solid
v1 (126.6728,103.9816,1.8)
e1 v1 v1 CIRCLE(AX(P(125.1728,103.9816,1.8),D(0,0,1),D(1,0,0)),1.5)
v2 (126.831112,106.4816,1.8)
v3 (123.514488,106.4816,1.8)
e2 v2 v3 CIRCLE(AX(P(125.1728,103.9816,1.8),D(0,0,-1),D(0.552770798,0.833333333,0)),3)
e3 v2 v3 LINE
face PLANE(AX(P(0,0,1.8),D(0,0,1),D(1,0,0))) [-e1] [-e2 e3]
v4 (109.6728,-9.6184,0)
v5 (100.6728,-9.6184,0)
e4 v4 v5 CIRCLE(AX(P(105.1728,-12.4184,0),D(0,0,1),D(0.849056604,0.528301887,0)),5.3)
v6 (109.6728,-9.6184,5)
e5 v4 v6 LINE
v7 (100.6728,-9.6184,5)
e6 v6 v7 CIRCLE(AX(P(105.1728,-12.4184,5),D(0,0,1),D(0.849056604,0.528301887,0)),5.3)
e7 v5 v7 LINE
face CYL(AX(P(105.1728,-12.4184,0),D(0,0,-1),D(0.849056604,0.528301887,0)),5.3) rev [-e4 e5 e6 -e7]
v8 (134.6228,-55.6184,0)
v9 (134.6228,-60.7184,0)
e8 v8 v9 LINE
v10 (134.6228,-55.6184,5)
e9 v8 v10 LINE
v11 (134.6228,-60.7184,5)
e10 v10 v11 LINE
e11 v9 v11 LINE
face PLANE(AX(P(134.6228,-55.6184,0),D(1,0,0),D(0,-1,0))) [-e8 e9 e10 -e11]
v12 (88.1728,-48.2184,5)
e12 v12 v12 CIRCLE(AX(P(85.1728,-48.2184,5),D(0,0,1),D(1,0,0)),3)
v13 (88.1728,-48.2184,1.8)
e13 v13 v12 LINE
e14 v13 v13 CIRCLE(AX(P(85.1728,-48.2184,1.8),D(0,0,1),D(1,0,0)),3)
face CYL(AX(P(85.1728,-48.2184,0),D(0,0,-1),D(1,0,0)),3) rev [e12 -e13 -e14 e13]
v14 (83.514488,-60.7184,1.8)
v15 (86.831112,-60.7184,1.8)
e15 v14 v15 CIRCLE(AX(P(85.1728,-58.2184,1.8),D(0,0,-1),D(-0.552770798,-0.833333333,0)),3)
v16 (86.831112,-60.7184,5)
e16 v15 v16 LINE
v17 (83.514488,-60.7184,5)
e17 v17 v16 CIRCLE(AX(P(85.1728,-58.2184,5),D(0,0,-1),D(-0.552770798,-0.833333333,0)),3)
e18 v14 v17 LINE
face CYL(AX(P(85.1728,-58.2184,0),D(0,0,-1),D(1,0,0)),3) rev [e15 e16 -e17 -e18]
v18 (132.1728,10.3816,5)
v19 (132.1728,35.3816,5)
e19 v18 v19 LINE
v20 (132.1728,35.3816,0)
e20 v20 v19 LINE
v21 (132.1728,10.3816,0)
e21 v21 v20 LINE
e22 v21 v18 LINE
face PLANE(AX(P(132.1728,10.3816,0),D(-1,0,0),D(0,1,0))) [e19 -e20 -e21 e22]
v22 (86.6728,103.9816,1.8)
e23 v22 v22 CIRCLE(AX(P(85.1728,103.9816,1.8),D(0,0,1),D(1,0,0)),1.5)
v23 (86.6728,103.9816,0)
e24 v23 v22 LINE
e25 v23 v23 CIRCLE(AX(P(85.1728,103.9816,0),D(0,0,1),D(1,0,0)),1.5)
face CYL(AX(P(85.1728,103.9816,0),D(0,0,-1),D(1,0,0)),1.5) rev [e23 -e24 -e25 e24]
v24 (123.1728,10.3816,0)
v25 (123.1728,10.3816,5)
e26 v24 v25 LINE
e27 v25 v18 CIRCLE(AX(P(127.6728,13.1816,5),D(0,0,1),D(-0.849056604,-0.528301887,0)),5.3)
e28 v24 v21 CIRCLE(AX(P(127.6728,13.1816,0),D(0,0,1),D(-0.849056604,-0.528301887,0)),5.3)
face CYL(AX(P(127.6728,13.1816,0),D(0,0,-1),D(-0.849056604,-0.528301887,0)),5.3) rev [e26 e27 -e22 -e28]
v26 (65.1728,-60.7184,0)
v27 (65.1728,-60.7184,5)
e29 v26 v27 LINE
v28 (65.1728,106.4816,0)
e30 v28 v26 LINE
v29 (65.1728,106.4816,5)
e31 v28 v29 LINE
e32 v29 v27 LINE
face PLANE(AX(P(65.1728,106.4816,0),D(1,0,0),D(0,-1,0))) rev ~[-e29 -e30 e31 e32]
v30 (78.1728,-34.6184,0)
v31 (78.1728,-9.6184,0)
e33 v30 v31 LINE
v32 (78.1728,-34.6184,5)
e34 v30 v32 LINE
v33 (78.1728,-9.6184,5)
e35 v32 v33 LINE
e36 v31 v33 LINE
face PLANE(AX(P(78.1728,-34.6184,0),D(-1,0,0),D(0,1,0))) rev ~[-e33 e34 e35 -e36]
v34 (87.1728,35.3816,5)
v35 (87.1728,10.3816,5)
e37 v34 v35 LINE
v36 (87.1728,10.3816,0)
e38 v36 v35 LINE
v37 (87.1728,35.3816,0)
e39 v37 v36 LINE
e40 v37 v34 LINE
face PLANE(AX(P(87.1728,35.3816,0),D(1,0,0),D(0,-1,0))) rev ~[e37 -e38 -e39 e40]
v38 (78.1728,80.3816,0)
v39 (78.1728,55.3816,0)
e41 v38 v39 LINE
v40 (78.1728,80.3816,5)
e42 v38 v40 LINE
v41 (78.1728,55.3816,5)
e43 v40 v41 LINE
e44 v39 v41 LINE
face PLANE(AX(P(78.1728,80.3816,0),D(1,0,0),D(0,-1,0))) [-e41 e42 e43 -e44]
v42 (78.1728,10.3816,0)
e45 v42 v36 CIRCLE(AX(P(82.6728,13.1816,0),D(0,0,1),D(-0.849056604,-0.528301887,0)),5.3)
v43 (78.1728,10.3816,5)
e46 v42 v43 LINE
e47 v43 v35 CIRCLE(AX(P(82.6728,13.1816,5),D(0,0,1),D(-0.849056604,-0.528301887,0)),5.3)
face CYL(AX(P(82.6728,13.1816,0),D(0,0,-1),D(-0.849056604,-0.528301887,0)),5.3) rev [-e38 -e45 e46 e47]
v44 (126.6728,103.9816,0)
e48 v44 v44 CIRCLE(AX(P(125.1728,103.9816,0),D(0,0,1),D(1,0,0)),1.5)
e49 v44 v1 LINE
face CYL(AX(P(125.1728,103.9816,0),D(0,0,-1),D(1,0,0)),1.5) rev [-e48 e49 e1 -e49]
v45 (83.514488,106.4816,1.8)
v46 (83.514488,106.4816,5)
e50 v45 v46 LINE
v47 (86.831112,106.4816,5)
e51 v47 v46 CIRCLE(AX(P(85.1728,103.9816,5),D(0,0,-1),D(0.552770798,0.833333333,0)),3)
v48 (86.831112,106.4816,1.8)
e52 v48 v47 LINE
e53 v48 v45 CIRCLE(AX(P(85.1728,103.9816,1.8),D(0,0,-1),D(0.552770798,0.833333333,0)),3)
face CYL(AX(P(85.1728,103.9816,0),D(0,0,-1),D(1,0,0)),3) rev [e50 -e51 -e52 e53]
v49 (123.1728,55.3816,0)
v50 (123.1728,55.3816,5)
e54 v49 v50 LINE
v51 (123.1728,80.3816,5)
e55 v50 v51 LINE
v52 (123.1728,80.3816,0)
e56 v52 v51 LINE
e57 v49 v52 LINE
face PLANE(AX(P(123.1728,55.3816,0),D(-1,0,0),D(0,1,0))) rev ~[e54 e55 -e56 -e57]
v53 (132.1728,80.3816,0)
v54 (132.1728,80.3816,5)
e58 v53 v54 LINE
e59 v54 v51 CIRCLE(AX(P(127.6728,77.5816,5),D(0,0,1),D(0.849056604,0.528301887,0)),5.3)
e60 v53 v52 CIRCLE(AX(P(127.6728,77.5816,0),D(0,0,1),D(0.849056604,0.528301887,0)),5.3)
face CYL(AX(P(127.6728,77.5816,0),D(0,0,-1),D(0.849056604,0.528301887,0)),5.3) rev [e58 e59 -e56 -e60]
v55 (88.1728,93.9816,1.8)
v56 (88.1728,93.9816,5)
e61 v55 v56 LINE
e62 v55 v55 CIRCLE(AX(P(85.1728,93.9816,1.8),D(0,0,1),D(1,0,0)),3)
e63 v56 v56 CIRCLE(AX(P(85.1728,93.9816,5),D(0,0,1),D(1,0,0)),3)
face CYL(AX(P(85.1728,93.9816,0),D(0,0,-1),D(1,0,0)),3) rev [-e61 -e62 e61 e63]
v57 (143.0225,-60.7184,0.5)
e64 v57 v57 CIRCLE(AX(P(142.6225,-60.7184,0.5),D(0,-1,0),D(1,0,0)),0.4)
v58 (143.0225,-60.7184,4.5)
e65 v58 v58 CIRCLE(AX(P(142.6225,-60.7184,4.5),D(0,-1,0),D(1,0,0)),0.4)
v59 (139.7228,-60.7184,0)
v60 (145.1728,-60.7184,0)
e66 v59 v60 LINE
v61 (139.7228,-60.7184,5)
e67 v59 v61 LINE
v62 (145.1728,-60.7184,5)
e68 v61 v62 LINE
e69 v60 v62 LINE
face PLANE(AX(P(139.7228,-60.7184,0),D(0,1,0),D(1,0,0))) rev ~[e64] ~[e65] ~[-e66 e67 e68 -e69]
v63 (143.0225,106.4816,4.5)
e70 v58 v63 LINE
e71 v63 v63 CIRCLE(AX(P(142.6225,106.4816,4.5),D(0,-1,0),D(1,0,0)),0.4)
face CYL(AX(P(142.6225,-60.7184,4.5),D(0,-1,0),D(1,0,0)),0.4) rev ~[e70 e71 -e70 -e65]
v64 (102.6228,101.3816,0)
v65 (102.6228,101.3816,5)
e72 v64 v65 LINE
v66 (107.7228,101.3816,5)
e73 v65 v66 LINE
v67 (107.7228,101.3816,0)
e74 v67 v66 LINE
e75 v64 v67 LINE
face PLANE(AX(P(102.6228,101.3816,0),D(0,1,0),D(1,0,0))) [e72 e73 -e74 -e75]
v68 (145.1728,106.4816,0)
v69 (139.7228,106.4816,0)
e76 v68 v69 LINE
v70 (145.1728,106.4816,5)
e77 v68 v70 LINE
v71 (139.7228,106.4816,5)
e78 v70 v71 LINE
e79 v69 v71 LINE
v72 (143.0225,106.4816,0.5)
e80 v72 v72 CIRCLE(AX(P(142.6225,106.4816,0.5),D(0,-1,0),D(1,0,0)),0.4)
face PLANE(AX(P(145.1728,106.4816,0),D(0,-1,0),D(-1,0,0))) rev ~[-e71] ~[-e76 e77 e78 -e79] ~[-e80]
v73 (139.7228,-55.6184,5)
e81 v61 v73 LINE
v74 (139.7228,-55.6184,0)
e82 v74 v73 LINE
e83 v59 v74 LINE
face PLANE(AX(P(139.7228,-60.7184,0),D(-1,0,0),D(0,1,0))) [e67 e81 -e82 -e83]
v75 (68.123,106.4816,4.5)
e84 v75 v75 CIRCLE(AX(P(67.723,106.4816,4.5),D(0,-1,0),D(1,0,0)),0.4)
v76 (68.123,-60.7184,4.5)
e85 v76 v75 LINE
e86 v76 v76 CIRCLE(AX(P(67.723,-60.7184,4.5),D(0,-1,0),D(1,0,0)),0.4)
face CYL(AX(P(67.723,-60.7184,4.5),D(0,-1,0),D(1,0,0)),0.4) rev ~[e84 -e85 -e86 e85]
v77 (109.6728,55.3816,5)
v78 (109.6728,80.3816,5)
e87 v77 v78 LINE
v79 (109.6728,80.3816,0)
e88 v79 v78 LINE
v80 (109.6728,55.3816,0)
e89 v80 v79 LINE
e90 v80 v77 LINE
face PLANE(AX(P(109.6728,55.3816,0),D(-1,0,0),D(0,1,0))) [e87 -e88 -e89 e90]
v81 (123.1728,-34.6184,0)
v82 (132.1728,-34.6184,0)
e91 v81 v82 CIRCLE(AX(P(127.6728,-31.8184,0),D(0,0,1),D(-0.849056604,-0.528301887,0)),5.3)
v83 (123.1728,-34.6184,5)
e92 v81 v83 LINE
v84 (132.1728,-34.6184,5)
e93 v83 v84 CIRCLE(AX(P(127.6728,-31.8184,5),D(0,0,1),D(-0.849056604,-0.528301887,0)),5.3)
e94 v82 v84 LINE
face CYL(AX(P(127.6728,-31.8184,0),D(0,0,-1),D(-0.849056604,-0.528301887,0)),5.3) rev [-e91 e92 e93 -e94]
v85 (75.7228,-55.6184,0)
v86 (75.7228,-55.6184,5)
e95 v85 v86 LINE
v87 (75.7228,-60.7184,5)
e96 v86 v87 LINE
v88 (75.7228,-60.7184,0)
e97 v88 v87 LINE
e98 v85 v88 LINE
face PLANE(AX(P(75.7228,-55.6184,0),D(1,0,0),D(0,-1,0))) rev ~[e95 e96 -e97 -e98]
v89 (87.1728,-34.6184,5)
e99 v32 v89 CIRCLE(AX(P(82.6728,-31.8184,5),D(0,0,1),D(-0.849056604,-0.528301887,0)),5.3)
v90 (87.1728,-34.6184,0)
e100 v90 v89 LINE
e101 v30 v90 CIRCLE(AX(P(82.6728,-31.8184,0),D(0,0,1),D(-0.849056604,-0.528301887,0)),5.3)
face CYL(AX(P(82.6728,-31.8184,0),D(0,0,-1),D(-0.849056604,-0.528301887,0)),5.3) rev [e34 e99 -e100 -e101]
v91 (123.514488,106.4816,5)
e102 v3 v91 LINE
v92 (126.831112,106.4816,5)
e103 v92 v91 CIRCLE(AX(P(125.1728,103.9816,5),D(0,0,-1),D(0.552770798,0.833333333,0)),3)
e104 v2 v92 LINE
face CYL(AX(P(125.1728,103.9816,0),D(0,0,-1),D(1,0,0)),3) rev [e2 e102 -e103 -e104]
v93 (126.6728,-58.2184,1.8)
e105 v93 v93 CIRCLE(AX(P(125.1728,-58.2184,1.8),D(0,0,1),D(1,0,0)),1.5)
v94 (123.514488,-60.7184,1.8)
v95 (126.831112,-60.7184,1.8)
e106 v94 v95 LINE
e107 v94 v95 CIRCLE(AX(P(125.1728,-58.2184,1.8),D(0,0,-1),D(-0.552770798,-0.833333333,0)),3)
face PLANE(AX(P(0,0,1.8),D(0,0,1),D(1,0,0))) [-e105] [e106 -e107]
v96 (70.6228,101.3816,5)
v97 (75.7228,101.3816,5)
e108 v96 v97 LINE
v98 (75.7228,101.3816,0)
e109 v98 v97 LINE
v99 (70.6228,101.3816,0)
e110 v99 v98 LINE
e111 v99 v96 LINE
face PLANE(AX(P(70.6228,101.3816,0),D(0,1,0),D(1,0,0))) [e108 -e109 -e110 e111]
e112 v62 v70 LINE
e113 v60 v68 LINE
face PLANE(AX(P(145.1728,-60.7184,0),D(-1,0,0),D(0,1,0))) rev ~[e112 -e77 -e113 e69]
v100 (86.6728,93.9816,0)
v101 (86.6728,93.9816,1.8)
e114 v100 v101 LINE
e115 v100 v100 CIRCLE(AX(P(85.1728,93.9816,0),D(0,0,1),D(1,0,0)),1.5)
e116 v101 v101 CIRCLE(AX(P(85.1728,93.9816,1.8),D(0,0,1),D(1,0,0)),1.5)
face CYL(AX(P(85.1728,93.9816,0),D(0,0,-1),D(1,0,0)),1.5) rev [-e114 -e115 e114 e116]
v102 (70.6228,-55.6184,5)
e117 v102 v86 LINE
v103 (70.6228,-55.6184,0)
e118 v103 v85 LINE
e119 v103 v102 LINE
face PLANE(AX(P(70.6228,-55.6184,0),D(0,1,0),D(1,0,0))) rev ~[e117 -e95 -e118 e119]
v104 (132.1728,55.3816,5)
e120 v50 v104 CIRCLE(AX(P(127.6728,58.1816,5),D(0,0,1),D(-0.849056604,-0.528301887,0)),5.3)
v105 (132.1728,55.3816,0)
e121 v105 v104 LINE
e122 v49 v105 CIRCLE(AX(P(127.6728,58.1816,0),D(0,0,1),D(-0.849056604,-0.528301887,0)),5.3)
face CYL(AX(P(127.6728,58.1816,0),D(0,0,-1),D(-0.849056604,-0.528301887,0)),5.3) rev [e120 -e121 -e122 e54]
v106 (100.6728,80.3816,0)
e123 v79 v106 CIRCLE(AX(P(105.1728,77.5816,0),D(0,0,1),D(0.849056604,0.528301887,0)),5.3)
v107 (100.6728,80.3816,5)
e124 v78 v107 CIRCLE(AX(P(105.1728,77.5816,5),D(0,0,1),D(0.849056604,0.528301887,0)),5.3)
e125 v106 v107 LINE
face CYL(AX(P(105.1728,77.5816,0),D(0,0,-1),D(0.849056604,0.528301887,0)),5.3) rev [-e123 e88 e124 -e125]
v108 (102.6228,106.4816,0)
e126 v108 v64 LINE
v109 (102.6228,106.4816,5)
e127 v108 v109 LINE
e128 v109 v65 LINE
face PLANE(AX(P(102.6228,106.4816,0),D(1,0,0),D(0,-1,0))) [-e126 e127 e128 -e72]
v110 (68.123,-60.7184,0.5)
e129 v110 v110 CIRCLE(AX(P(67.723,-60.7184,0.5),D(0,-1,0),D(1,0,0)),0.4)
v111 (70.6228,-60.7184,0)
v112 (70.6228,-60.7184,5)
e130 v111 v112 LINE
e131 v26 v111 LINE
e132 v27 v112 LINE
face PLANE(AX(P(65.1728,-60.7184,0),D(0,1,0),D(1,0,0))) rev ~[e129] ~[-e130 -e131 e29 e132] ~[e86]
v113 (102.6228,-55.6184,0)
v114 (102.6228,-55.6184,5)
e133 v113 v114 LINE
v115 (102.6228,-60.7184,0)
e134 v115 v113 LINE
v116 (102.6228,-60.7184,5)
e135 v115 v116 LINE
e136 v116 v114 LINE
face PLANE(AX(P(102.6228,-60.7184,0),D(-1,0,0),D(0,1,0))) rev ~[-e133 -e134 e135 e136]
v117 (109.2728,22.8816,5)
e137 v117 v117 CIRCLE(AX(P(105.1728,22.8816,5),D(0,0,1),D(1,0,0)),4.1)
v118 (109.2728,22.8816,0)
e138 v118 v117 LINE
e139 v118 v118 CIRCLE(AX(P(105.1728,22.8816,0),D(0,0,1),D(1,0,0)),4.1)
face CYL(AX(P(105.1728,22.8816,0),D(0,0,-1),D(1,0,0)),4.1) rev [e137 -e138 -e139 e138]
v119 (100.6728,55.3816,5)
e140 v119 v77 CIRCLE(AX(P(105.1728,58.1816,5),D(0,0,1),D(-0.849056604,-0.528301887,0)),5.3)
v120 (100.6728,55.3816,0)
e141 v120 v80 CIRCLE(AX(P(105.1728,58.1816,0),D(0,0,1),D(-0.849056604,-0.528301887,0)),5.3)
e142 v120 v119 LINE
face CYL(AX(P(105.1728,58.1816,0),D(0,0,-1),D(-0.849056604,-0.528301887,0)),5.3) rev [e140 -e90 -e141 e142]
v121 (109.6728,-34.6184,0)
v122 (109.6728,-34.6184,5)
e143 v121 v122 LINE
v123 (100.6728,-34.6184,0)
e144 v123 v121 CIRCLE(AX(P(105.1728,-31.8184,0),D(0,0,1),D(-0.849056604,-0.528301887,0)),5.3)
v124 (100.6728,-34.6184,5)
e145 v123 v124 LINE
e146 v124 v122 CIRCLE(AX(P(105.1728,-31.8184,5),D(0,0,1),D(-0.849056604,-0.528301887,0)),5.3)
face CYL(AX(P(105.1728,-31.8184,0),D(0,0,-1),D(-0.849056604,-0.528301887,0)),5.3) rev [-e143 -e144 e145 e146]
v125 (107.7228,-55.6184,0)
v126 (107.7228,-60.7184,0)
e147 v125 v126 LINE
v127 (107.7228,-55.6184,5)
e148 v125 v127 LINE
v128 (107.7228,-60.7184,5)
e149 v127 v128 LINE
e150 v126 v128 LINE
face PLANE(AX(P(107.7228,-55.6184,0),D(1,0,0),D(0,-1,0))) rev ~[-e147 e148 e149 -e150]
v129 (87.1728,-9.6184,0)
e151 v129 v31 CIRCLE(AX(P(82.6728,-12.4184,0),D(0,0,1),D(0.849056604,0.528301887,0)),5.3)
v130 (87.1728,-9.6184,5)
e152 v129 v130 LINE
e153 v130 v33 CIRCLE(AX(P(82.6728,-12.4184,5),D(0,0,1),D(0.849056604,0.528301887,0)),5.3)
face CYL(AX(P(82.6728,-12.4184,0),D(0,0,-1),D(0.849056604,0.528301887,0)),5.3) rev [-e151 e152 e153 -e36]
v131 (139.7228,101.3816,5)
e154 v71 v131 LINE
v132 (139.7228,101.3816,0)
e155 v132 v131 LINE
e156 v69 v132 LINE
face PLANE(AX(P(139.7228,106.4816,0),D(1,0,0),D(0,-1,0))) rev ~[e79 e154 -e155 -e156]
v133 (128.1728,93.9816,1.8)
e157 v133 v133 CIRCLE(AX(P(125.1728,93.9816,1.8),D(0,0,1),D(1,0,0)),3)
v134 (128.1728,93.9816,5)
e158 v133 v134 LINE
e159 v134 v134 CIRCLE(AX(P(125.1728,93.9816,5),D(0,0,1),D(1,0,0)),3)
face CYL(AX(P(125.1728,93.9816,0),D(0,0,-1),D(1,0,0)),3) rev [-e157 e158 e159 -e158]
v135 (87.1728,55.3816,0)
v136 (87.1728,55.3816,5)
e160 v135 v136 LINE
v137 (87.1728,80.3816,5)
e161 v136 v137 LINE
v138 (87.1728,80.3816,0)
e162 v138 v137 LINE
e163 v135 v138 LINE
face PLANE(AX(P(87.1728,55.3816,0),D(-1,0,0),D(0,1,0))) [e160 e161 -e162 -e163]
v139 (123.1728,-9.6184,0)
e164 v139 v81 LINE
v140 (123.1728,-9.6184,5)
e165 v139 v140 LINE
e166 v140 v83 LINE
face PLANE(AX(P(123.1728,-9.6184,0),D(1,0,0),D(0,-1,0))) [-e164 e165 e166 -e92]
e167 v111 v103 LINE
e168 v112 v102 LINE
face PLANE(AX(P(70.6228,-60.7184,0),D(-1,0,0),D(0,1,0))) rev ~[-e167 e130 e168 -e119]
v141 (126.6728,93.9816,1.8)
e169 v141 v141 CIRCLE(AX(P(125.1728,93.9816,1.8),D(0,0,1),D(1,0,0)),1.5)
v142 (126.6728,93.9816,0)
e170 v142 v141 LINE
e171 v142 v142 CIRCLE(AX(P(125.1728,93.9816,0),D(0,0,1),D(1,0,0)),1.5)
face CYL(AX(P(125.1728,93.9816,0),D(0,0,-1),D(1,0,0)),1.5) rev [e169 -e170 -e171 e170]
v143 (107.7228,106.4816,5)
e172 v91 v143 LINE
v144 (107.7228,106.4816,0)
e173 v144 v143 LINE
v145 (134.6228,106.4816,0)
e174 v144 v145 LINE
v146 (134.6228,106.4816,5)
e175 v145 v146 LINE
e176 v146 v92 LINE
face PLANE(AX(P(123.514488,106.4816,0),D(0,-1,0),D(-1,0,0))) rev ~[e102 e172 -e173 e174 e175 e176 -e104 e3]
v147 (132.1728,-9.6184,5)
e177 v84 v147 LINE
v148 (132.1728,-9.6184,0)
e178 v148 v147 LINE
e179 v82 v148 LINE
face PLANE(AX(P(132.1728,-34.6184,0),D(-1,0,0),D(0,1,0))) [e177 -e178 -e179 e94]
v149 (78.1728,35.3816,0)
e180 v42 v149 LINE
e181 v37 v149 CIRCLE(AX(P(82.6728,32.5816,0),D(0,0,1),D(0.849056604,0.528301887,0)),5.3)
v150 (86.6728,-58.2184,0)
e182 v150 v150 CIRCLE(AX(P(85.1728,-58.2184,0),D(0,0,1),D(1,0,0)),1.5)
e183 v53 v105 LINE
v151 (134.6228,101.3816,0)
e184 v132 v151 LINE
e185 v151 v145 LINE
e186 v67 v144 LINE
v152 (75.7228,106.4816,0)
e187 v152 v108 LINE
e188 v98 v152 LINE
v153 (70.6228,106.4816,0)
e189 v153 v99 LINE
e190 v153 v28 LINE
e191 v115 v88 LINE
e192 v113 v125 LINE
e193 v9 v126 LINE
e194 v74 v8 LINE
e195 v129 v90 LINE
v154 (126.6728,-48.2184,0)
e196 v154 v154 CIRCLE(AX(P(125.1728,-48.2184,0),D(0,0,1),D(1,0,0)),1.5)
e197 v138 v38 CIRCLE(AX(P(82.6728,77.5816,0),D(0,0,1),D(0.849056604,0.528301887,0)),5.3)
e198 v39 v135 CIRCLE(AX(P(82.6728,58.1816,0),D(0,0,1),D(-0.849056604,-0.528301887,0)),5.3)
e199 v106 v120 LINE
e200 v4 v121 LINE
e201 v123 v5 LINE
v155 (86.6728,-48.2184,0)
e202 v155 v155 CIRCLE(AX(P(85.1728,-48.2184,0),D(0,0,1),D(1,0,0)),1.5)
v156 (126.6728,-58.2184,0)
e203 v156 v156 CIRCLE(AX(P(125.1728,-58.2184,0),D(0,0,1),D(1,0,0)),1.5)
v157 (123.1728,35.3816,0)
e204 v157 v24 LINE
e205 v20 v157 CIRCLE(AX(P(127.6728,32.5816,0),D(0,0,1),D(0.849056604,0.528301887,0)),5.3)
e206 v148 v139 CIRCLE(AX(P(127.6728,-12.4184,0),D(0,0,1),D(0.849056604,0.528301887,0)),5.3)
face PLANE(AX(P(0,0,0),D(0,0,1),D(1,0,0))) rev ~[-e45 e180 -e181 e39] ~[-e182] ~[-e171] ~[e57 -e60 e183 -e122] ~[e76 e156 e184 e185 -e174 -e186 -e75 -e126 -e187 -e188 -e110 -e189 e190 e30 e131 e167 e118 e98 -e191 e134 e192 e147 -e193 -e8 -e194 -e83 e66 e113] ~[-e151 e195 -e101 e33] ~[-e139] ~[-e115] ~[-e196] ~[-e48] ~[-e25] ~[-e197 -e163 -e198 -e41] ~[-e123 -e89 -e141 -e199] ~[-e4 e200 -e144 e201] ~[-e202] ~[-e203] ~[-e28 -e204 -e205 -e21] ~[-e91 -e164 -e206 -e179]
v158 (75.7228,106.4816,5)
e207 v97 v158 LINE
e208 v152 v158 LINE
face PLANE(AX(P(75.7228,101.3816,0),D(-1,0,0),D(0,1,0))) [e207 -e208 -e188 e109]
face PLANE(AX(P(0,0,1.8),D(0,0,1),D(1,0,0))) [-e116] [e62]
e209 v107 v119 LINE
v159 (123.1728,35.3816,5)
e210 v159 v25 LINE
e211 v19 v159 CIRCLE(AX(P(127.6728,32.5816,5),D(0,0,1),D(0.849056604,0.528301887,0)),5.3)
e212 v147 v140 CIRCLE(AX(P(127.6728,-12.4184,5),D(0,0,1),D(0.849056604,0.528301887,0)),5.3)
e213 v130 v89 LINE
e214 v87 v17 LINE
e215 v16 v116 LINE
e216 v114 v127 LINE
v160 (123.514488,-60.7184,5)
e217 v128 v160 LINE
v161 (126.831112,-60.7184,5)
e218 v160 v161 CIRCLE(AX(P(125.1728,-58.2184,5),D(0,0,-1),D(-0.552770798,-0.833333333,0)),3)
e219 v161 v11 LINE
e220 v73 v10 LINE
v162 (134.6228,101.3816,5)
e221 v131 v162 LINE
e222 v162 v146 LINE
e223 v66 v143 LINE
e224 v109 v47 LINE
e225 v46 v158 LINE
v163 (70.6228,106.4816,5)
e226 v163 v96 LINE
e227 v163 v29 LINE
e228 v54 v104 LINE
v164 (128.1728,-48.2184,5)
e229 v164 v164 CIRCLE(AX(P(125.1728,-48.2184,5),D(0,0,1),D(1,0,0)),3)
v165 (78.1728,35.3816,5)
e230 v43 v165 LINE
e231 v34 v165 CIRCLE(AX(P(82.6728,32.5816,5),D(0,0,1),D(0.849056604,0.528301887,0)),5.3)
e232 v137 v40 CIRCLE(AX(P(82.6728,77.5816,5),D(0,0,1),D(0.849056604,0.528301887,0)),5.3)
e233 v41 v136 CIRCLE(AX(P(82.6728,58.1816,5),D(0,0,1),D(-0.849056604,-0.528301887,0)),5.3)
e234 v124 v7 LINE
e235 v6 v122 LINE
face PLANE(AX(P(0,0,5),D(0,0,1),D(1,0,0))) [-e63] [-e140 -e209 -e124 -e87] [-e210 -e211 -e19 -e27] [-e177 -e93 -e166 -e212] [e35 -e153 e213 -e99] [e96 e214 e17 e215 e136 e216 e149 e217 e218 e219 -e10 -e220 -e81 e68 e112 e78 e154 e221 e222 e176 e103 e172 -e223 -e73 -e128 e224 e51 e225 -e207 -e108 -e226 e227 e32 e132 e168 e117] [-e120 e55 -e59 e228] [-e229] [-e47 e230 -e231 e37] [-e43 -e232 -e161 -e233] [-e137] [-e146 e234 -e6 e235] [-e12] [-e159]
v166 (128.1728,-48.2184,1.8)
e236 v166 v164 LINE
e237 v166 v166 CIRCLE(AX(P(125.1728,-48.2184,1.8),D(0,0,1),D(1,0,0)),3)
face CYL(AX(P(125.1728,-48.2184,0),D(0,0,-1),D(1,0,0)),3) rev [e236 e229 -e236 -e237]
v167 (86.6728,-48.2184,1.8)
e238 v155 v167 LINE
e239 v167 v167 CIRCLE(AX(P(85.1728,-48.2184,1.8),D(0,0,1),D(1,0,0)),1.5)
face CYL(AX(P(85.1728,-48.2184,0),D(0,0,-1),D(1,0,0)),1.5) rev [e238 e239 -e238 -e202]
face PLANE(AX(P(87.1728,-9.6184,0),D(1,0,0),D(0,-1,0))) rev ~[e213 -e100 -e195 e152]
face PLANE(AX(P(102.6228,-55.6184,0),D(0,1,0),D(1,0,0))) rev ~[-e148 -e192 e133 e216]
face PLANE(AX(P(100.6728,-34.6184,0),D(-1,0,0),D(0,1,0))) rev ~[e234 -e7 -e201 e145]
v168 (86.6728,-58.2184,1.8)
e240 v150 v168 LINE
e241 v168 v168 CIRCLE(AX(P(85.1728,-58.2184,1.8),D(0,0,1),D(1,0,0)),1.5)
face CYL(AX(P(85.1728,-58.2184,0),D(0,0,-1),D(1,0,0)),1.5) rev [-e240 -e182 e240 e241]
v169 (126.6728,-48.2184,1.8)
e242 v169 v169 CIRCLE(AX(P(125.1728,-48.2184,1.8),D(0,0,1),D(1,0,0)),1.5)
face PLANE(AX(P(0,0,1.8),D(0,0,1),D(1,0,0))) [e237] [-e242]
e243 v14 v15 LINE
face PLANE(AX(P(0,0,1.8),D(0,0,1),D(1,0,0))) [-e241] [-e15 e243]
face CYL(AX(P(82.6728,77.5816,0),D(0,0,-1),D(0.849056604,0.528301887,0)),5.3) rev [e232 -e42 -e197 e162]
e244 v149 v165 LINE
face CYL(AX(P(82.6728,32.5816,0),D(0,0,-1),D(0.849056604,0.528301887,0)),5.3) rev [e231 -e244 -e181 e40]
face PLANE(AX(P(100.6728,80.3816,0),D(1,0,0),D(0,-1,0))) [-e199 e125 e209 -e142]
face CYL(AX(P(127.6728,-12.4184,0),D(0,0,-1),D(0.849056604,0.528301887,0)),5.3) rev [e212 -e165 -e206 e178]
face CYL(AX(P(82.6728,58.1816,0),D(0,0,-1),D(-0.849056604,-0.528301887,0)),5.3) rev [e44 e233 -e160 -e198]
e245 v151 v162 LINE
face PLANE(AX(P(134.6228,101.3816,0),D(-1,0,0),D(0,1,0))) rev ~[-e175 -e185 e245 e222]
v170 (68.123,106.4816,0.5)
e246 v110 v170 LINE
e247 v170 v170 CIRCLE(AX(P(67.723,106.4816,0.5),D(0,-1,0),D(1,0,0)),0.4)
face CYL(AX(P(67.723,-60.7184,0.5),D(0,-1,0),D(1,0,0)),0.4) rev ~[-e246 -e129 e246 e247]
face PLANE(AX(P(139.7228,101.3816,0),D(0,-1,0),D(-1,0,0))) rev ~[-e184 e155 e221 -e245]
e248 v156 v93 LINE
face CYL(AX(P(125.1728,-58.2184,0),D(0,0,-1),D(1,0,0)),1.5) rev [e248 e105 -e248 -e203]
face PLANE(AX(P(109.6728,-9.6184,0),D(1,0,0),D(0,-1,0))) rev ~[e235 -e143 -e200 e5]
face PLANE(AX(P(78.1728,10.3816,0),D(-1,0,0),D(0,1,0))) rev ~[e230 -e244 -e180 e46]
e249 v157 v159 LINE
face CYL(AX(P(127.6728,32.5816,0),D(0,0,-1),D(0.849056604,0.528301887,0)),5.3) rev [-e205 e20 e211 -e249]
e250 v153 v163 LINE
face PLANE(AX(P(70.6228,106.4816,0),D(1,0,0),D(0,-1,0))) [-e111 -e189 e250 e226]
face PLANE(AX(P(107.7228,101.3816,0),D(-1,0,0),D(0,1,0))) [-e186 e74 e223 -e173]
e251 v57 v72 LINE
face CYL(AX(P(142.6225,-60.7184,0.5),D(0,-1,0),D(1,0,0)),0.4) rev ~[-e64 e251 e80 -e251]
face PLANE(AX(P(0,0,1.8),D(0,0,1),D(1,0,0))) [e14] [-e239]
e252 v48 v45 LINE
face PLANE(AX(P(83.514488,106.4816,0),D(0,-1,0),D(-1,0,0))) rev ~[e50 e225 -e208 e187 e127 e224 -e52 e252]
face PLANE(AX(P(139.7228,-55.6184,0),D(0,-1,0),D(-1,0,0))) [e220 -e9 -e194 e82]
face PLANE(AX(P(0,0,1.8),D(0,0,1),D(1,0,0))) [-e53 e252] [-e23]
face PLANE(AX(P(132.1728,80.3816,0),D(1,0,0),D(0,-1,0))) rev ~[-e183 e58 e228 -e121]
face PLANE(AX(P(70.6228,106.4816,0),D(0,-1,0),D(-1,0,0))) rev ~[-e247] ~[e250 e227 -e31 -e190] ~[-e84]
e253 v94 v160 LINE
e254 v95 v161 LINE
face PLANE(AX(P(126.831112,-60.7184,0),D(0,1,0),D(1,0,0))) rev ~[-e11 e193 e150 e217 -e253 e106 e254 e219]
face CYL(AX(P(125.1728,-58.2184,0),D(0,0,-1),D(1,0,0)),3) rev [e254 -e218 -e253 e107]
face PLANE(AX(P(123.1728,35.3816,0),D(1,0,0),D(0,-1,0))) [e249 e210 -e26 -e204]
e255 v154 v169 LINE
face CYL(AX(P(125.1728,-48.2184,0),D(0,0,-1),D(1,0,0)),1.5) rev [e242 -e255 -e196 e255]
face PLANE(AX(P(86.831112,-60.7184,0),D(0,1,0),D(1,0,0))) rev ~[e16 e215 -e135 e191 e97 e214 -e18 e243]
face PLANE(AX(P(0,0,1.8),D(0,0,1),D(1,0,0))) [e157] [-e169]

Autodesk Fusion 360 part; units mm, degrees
sketch "Schizzo5" plane through (0, 0, 0) normal (0, 0, 1) x (1, 0, 0)
  line L0 (65.1728, 106.4816) -> (65.1728, -60.7184)
  circle A0 centre (85.1728, -58.2184) radius 1.5
  circle A1 centre (125.1728, 103.9816) radius 3
  line L1 (65.1728, 22.8816) -> (145.1728, 22.8816) construction
  circle A2 centre (85.1728, 103.9816) radius 3
  circle A3 centre (85.1728, 103.9816) radius 1.5
  line L2 (145.1728, 106.4816) -> (65.1728, 106.4816)
  circle A4 centre (125.1728, 103.9816) radius 1.5
  line L3 (105.1728, 25.3816) -> (105.1728, 1.3102) construction
  circle A5 centre (105.1728, 22.8816) radius 4.1
  line L4 (145.1728, -60.7184) -> (145.1728, 106.4816)
  line L5 (85.1728, 106.4816) -> (85.1728, -60.7184) construction
  circle A6 centre (85.1728, -58.2184) radius 3
  circle A7 centre (125.1728, -58.2184) radius 1.5
  line L6 (65.1728, -60.7184) -> (145.1728, -60.7184)
  circle A8 centre (125.1728, -58.2184) radius 3
  line L7 (65.1728, -58.2184) -> (145.1728, -58.2184) construction
  line L8 (105.1728, 106.4816) -> (105.1728, -60.7184) construction
  line L9 (105.1728, 25.3816) -> (105.1728, 56.9762) construction
  line L10 (105.1728, 25.3816) -> (105.1728, 56.9762) construction
  line L11 (105.1728, 25.3816) -> (105.1728, 1.3102) construction
  line L12 (65.1728, -48.2184) -> (145.1728, -48.2184) construction
  circle A9 centre (85.1728, -48.2184) radius 1.5
  circle A10 centre (85.1728, -48.2184) radius 3
  circle A11 centre (125.1728, -48.2184) radius 3
  circle A12 centre (125.1728, -48.2184) radius 1.5
  circle A13 centre (85.1728, 93.9816) radius 3
  circle A14 centre (85.1728, 93.9816) radius 1.5
  circle A15 centre (125.1728, 93.9816) radius 3
  circle A16 centre (125.1728, 93.9816) radius 1.5
  line L13 (107.7228, -60.7184) -> (102.6228, -60.7184)
  line L14 (102.6228, -60.7184) -> (102.6228, -55.6184)
  line L15 (102.6228, -55.6184) -> (107.7228, -55.6184)
  line L16 (107.7228, -55.6184) -> (107.7228, -60.7184)
  line L17 (107.7228, -60.7184) -> (102.6228, -55.6184) construction
  line L18 (102.6228, -60.7184) -> (107.7228, -55.6184) construction
  line L19 (102.6228, 101.3816) -> (107.7228, 101.3816)
  line L20 (102.6228, 106.4816) -> (102.6228, 101.3816)
  line L21 (107.7228, 101.3816) -> (107.7228, 106.4816)
  line L22 (70.6228, -55.6184) -> (75.7228, -55.6184)
  line L23 (75.7228, -55.6184) -> (75.7228, -60.7184)
  line L24 (75.7228, -60.7184) -> (70.6228, -60.7184)
  line L25 (70.6228, -60.7184) -> (70.6228, -55.6184)
  line L26 (134.6228, -55.6184) -> (134.6228, -60.7184)
  line L27 (139.7228, -55.6184) -> (134.6228, -55.6184)
  line L28 (139.7228, -60.7184) -> (139.7228, -55.6184)
  line L29 (134.6228, -60.7184) -> (139.7228, -60.7184)
  line L30 (70.6228, -60.7184) -> (75.7228, -55.6184) construction
  line L31 (70.6228, -55.6184) -> (75.7228, -60.7184) construction
  line L32 (70.6228, 101.3816) -> (75.7228, 101.3816)
  line L33 (75.7228, 101.3816) -> (75.7228, 106.4816)
  line L34 (70.6228, 106.4816) -> (70.6228, 101.3816)
  line L35 (75.7228, 106.4816) -> (70.6228, 106.4816)
  line L36 (139.7228, 101.3816) -> (134.6228, 101.3816)
  line L37 (134.6228, 101.3816) -> (134.6228, 106.4816)
  line L38 (139.7228, 106.4816) -> (139.7228, 101.3816)
  line L39 (134.6228, 106.4816) -> (139.7228, 106.4816)
  line L40 (78.1728, 35.3816) -> (87.1728, 35.3816)
  line L41 (87.1728, 35.3816) -> (87.1728, 10.3816)
  line L42 (87.1728, 10.3816) -> (78.1728, 10.3816)
  line L43 (78.1728, 10.3816) -> (78.1728, 35.3816)
  arc A17 (78.1728, 10.3816) -> (87.1728, 10.3816) centre (82.6728, 13.1816) ccw
  line L44 (78.1728, 22.8816) -> (87.1728, 22.8816) construction
  arc A18 (87.1728, 35.3816) -> (78.1728, 35.3816) centre (82.6728, 32.5816) ccw
  arc A19 (132.1728, 35.3816) -> (123.1728, 35.3816) centre (127.6728, 32.5816) ccw
  line L45 (132.1728, 35.3816) -> (123.1728, 35.3816)
  line L46 (123.1728, 35.3816) -> (123.1728, 10.3816)
  line L47 (132.1728, 10.3816) -> (132.1728, 35.3816)
  line L48 (123.1728, 10.3816) -> (132.1728, 10.3816)
  arc A20 (123.1728, 10.3816) -> (132.1728, 10.3816) centre (127.6728, 13.1816) ccw
  line L49 (82.6728, 35.3816) -> (82.6728, 10.3816) construction
  line L50 (127.6728, 35.3816) -> (127.6728, 10.3816) construction
  line L51 (132.1728, 22.8816) -> (123.1728, 22.8816) construction
  line L52 (109.6728, -34.6184) -> (100.6728, -34.6184)
  line L53 (100.6728, -34.6184) -> (100.6728, -9.6184)
  line L54 (100.6728, -9.6184) -> (109.6728, -9.6184)
  line L55 (109.6728, -9.6184) -> (109.6728, -34.6184)
  line L56 (109.6728, -34.6184) -> (100.6728, -9.6184) construction
  line L57 (100.6728, -34.6184) -> (109.6728, -9.6184) construction
  arc A21 (109.6728, -9.6184) -> (100.6728, -9.6184) centre (105.1728, -12.4184) ccw
  line L58 (100.6728, -22.1184) -> (109.6728, -22.1184) construction
  arc A22 (100.6728, -34.6184) -> (109.6728, -34.6184) centre (105.1728, -31.8184) ccw
  line L59 (82.6728, 37.8816) -> (82.6728, 35.3816) construction
  arc A23 (100.6728, 55.3816) -> (109.6728, 55.3816) centre (105.1728, 58.1816) ccw
  line L60 (109.6728, 55.3816) -> (109.6728, 80.3816)
  line L61 (100.6728, 80.3816) -> (100.6728, 55.3816)
  arc A24 (109.6728, 80.3816) -> (100.6728, 80.3816) centre (105.1728, 77.5816) ccw
  line L62 (100.6728, 80.3816) -> (109.6728, 55.3816) construction
  line L63 (109.6728, 80.3816) -> (100.6728, 55.3816) construction
  line L64 (78.1728, -9.6184) -> (87.1728, -9.6184)
  line L65 (87.1728, -9.6184) -> (87.1728, -34.6184)
  line L66 (87.1728, -34.6184) -> (78.1728, -34.6184)
  line L67 (78.1728, -34.6184) -> (78.1728, -9.6184)
  line L68 (82.6728, -9.6184) -> (82.6728, -34.6184) construction
  line L69 (78.1728, -22.1184) -> (87.1728, -22.1184) construction
  line L70 (82.6728, -9.6184) -> (82.6728, -7.1184) construction
  arc A25 (87.1728, -9.6184) -> (78.1728, -9.6184) centre (82.6728, -12.4184) ccw
  arc A26 (78.1728, -34.6184) -> (87.1728, -34.6184) centre (82.6728, -31.8184) ccw
  arc A27 (132.1728, -9.6184) -> (123.1728, -9.6184) centre (127.6728, -12.4184) ccw
  line L71 (132.1728, -34.6184) -> (132.1728, -9.6184)
  line L72 (123.1728, -9.6184) -> (123.1728, -34.6184)
  arc A28 (123.1728, -34.6184) -> (132.1728, -34.6184) centre (127.6728, -31.8184) ccw
  line L73 (82.6728, 13.1816) -> (82.6728, -60.7184) construction
  arc A29 (78.1728, 55.3816) -> (87.1728, 55.3816) centre (82.6728, 58.1816) ccw
  line L74 (78.1728, 80.3816) -> (78.1728, 55.3816)
  line L75 (87.1728, 55.3816) -> (87.1728, 80.3816)
  arc A30 (87.1728, 80.3816) -> (78.1728, 80.3816) centre (82.6728, 77.5816) ccw
  arc A31 (132.1728, 80.3816) -> (123.1728, 80.3816) centre (127.6728, 77.5816) ccw
  line L76 (132.1728, 80.3816) -> (132.1728, 55.3816)
  line L77 (123.1728, 55.3816) -> (123.1728, 80.3816)
  arc A32 (123.1728, 55.3816) -> (132.1728, 55.3816) centre (127.6728, 58.1816) ccw
  point P0 (105.1728, -58.1684)
  point P1 (105.1728, 25.3816)
  point P2 (73.1728, -58.1684)
  point P3 (82.6728, 22.8816)
  point P4 (127.6728, 22.8816)
  point P5 (105.1728, -22.1184)
  point P6 (105.1728, -7.1184)
  point P7 (105.1728, 67.8816)
  dimension "d221" = 80
  dimension "d222" = 167.2
  dimension "d223" = 2.5
  dimension "d224" = 20
  dimension "d225" = 3
  dimension "d226" = 6
  dimension "d229" = 8.2
  dimension "d350" = 3
  dimension "d351" = 6
  dimension "d354" = 10
  dimension "d355" = 5.1
  dimension "d356" = 5.1
  dimension "d368" = 5.1
  dimension "d369" = 5.1
  dimension "d370" = 32
  dimension "d371" = 9
  dimension "d372" = 25
  dimension "d373" = 45
  dimension "d380" = 9
  dimension "d381" = 25
  dimension "d382" = 2.5
  dimension "d383" = 2.5
  dimension "d384" = 90
  dimension "d385" = 9
  dimension "d386" = 25
  dimension "d387" = 2.5
extrude "Estrusione24" add sketch "Schizzo5" along normal blind 5 contours L0 A1 A2 L2 L4 A6 L6 A8 L14 L15 L16 L19 L20 L21 L22 L23 L25 L26 L27 L28 L32 L33 L34 L36 L37 L38
extrude "Estrusione25" add sketch "Schizzo5" along normal blind 1.8 contours A2 L2 | A6 L6 | A1 L2 | L6 A8 | A10 | A11 | A13 | A15 picked at (85.2101, 106.1469) picked at (85.2101, -60.3837) picked at (125.2101, 106.1469) picked at (125.2101, -60.3837)
sketch "Schizzo17" plane through (0, -60.7184, 0) normal (0, -1, 0) x (1, 0, 0)
  line L0 (75.7228, 0) -> (102.6228, 0)
  line L1 (102.6228, 0) -> (102.6228, 5)
  line L2 (102.6228, 5) -> (86.8311, 5)
  line L3 (86.8311, 5) -> (86.8311, 1.8)
  line L4 (86.8311, 1.8) -> (83.5144, 1.8)
  line L5 (83.5144, 1.8) -> (83.5144, 5)
  line L6 (65.1728, 5) -> (145.1728, 5) construction
  line L7 (145.1728, 5) -> (145.1728, 0) construction
  line L8 (145.1728, 0) -> (65.1728, 0) construction
  line L9 (65.1728, 0) -> (65.1728, 5) construction
  line L10 (107.7228, 0) -> (134.6228, 0) construction
  line L11 (107.7228, 5) -> (123.5144, 5) construction
  line L12 (145.1728, 0) -> (145.1728, 5) construction
  line L13 (65.1728, 2.5) -> (145.1728, 2.5) construction
  line L14 (77.9024, 5) -> (-23.8923, 0) construction
  circle A0 centre (67.723, 4.5) radius 0.4
  circle A1 centre (67.723, 0.5) radius 0.4
  line L15 (105.1728, 5) -> (105.1728, 0) construction
  line L16 (132.4431, 5) -> (234.2378, 0) construction
  circle A2 centre (142.6225, 0.5) radius 0.4
  circle A3 centre (142.6225, 4.5) radius 0.4
  line L17 (83.5144, 5) -> (75.7228, 5)
  line L18 (75.7228, 5) -> (75.7228, 0)
  line L19 (139.7228, 0) -> (145.1728, 0)
  point P0 (142.6225, 4.5)
  point P1 (142.6225, 0.5)
  point P2 (142.6225, 4.5)
  dimension "d357" = 0.8
  dimension "d358" = 4
extrude "Estrusione29" cut sketch "Schizzo17" against normal blind 180 contours A0 | A1 | A2 | A3
equation "d225 = d227"
equation "d226 = d228"
equation "d227 = 3.00 mm"
equation "d228 = 6.00 mm"
equation "d350 = d227"
equation "d351 = d228"
equation "d355 = d356"
equation "d368 = d356"
equation "d369 = d356"
